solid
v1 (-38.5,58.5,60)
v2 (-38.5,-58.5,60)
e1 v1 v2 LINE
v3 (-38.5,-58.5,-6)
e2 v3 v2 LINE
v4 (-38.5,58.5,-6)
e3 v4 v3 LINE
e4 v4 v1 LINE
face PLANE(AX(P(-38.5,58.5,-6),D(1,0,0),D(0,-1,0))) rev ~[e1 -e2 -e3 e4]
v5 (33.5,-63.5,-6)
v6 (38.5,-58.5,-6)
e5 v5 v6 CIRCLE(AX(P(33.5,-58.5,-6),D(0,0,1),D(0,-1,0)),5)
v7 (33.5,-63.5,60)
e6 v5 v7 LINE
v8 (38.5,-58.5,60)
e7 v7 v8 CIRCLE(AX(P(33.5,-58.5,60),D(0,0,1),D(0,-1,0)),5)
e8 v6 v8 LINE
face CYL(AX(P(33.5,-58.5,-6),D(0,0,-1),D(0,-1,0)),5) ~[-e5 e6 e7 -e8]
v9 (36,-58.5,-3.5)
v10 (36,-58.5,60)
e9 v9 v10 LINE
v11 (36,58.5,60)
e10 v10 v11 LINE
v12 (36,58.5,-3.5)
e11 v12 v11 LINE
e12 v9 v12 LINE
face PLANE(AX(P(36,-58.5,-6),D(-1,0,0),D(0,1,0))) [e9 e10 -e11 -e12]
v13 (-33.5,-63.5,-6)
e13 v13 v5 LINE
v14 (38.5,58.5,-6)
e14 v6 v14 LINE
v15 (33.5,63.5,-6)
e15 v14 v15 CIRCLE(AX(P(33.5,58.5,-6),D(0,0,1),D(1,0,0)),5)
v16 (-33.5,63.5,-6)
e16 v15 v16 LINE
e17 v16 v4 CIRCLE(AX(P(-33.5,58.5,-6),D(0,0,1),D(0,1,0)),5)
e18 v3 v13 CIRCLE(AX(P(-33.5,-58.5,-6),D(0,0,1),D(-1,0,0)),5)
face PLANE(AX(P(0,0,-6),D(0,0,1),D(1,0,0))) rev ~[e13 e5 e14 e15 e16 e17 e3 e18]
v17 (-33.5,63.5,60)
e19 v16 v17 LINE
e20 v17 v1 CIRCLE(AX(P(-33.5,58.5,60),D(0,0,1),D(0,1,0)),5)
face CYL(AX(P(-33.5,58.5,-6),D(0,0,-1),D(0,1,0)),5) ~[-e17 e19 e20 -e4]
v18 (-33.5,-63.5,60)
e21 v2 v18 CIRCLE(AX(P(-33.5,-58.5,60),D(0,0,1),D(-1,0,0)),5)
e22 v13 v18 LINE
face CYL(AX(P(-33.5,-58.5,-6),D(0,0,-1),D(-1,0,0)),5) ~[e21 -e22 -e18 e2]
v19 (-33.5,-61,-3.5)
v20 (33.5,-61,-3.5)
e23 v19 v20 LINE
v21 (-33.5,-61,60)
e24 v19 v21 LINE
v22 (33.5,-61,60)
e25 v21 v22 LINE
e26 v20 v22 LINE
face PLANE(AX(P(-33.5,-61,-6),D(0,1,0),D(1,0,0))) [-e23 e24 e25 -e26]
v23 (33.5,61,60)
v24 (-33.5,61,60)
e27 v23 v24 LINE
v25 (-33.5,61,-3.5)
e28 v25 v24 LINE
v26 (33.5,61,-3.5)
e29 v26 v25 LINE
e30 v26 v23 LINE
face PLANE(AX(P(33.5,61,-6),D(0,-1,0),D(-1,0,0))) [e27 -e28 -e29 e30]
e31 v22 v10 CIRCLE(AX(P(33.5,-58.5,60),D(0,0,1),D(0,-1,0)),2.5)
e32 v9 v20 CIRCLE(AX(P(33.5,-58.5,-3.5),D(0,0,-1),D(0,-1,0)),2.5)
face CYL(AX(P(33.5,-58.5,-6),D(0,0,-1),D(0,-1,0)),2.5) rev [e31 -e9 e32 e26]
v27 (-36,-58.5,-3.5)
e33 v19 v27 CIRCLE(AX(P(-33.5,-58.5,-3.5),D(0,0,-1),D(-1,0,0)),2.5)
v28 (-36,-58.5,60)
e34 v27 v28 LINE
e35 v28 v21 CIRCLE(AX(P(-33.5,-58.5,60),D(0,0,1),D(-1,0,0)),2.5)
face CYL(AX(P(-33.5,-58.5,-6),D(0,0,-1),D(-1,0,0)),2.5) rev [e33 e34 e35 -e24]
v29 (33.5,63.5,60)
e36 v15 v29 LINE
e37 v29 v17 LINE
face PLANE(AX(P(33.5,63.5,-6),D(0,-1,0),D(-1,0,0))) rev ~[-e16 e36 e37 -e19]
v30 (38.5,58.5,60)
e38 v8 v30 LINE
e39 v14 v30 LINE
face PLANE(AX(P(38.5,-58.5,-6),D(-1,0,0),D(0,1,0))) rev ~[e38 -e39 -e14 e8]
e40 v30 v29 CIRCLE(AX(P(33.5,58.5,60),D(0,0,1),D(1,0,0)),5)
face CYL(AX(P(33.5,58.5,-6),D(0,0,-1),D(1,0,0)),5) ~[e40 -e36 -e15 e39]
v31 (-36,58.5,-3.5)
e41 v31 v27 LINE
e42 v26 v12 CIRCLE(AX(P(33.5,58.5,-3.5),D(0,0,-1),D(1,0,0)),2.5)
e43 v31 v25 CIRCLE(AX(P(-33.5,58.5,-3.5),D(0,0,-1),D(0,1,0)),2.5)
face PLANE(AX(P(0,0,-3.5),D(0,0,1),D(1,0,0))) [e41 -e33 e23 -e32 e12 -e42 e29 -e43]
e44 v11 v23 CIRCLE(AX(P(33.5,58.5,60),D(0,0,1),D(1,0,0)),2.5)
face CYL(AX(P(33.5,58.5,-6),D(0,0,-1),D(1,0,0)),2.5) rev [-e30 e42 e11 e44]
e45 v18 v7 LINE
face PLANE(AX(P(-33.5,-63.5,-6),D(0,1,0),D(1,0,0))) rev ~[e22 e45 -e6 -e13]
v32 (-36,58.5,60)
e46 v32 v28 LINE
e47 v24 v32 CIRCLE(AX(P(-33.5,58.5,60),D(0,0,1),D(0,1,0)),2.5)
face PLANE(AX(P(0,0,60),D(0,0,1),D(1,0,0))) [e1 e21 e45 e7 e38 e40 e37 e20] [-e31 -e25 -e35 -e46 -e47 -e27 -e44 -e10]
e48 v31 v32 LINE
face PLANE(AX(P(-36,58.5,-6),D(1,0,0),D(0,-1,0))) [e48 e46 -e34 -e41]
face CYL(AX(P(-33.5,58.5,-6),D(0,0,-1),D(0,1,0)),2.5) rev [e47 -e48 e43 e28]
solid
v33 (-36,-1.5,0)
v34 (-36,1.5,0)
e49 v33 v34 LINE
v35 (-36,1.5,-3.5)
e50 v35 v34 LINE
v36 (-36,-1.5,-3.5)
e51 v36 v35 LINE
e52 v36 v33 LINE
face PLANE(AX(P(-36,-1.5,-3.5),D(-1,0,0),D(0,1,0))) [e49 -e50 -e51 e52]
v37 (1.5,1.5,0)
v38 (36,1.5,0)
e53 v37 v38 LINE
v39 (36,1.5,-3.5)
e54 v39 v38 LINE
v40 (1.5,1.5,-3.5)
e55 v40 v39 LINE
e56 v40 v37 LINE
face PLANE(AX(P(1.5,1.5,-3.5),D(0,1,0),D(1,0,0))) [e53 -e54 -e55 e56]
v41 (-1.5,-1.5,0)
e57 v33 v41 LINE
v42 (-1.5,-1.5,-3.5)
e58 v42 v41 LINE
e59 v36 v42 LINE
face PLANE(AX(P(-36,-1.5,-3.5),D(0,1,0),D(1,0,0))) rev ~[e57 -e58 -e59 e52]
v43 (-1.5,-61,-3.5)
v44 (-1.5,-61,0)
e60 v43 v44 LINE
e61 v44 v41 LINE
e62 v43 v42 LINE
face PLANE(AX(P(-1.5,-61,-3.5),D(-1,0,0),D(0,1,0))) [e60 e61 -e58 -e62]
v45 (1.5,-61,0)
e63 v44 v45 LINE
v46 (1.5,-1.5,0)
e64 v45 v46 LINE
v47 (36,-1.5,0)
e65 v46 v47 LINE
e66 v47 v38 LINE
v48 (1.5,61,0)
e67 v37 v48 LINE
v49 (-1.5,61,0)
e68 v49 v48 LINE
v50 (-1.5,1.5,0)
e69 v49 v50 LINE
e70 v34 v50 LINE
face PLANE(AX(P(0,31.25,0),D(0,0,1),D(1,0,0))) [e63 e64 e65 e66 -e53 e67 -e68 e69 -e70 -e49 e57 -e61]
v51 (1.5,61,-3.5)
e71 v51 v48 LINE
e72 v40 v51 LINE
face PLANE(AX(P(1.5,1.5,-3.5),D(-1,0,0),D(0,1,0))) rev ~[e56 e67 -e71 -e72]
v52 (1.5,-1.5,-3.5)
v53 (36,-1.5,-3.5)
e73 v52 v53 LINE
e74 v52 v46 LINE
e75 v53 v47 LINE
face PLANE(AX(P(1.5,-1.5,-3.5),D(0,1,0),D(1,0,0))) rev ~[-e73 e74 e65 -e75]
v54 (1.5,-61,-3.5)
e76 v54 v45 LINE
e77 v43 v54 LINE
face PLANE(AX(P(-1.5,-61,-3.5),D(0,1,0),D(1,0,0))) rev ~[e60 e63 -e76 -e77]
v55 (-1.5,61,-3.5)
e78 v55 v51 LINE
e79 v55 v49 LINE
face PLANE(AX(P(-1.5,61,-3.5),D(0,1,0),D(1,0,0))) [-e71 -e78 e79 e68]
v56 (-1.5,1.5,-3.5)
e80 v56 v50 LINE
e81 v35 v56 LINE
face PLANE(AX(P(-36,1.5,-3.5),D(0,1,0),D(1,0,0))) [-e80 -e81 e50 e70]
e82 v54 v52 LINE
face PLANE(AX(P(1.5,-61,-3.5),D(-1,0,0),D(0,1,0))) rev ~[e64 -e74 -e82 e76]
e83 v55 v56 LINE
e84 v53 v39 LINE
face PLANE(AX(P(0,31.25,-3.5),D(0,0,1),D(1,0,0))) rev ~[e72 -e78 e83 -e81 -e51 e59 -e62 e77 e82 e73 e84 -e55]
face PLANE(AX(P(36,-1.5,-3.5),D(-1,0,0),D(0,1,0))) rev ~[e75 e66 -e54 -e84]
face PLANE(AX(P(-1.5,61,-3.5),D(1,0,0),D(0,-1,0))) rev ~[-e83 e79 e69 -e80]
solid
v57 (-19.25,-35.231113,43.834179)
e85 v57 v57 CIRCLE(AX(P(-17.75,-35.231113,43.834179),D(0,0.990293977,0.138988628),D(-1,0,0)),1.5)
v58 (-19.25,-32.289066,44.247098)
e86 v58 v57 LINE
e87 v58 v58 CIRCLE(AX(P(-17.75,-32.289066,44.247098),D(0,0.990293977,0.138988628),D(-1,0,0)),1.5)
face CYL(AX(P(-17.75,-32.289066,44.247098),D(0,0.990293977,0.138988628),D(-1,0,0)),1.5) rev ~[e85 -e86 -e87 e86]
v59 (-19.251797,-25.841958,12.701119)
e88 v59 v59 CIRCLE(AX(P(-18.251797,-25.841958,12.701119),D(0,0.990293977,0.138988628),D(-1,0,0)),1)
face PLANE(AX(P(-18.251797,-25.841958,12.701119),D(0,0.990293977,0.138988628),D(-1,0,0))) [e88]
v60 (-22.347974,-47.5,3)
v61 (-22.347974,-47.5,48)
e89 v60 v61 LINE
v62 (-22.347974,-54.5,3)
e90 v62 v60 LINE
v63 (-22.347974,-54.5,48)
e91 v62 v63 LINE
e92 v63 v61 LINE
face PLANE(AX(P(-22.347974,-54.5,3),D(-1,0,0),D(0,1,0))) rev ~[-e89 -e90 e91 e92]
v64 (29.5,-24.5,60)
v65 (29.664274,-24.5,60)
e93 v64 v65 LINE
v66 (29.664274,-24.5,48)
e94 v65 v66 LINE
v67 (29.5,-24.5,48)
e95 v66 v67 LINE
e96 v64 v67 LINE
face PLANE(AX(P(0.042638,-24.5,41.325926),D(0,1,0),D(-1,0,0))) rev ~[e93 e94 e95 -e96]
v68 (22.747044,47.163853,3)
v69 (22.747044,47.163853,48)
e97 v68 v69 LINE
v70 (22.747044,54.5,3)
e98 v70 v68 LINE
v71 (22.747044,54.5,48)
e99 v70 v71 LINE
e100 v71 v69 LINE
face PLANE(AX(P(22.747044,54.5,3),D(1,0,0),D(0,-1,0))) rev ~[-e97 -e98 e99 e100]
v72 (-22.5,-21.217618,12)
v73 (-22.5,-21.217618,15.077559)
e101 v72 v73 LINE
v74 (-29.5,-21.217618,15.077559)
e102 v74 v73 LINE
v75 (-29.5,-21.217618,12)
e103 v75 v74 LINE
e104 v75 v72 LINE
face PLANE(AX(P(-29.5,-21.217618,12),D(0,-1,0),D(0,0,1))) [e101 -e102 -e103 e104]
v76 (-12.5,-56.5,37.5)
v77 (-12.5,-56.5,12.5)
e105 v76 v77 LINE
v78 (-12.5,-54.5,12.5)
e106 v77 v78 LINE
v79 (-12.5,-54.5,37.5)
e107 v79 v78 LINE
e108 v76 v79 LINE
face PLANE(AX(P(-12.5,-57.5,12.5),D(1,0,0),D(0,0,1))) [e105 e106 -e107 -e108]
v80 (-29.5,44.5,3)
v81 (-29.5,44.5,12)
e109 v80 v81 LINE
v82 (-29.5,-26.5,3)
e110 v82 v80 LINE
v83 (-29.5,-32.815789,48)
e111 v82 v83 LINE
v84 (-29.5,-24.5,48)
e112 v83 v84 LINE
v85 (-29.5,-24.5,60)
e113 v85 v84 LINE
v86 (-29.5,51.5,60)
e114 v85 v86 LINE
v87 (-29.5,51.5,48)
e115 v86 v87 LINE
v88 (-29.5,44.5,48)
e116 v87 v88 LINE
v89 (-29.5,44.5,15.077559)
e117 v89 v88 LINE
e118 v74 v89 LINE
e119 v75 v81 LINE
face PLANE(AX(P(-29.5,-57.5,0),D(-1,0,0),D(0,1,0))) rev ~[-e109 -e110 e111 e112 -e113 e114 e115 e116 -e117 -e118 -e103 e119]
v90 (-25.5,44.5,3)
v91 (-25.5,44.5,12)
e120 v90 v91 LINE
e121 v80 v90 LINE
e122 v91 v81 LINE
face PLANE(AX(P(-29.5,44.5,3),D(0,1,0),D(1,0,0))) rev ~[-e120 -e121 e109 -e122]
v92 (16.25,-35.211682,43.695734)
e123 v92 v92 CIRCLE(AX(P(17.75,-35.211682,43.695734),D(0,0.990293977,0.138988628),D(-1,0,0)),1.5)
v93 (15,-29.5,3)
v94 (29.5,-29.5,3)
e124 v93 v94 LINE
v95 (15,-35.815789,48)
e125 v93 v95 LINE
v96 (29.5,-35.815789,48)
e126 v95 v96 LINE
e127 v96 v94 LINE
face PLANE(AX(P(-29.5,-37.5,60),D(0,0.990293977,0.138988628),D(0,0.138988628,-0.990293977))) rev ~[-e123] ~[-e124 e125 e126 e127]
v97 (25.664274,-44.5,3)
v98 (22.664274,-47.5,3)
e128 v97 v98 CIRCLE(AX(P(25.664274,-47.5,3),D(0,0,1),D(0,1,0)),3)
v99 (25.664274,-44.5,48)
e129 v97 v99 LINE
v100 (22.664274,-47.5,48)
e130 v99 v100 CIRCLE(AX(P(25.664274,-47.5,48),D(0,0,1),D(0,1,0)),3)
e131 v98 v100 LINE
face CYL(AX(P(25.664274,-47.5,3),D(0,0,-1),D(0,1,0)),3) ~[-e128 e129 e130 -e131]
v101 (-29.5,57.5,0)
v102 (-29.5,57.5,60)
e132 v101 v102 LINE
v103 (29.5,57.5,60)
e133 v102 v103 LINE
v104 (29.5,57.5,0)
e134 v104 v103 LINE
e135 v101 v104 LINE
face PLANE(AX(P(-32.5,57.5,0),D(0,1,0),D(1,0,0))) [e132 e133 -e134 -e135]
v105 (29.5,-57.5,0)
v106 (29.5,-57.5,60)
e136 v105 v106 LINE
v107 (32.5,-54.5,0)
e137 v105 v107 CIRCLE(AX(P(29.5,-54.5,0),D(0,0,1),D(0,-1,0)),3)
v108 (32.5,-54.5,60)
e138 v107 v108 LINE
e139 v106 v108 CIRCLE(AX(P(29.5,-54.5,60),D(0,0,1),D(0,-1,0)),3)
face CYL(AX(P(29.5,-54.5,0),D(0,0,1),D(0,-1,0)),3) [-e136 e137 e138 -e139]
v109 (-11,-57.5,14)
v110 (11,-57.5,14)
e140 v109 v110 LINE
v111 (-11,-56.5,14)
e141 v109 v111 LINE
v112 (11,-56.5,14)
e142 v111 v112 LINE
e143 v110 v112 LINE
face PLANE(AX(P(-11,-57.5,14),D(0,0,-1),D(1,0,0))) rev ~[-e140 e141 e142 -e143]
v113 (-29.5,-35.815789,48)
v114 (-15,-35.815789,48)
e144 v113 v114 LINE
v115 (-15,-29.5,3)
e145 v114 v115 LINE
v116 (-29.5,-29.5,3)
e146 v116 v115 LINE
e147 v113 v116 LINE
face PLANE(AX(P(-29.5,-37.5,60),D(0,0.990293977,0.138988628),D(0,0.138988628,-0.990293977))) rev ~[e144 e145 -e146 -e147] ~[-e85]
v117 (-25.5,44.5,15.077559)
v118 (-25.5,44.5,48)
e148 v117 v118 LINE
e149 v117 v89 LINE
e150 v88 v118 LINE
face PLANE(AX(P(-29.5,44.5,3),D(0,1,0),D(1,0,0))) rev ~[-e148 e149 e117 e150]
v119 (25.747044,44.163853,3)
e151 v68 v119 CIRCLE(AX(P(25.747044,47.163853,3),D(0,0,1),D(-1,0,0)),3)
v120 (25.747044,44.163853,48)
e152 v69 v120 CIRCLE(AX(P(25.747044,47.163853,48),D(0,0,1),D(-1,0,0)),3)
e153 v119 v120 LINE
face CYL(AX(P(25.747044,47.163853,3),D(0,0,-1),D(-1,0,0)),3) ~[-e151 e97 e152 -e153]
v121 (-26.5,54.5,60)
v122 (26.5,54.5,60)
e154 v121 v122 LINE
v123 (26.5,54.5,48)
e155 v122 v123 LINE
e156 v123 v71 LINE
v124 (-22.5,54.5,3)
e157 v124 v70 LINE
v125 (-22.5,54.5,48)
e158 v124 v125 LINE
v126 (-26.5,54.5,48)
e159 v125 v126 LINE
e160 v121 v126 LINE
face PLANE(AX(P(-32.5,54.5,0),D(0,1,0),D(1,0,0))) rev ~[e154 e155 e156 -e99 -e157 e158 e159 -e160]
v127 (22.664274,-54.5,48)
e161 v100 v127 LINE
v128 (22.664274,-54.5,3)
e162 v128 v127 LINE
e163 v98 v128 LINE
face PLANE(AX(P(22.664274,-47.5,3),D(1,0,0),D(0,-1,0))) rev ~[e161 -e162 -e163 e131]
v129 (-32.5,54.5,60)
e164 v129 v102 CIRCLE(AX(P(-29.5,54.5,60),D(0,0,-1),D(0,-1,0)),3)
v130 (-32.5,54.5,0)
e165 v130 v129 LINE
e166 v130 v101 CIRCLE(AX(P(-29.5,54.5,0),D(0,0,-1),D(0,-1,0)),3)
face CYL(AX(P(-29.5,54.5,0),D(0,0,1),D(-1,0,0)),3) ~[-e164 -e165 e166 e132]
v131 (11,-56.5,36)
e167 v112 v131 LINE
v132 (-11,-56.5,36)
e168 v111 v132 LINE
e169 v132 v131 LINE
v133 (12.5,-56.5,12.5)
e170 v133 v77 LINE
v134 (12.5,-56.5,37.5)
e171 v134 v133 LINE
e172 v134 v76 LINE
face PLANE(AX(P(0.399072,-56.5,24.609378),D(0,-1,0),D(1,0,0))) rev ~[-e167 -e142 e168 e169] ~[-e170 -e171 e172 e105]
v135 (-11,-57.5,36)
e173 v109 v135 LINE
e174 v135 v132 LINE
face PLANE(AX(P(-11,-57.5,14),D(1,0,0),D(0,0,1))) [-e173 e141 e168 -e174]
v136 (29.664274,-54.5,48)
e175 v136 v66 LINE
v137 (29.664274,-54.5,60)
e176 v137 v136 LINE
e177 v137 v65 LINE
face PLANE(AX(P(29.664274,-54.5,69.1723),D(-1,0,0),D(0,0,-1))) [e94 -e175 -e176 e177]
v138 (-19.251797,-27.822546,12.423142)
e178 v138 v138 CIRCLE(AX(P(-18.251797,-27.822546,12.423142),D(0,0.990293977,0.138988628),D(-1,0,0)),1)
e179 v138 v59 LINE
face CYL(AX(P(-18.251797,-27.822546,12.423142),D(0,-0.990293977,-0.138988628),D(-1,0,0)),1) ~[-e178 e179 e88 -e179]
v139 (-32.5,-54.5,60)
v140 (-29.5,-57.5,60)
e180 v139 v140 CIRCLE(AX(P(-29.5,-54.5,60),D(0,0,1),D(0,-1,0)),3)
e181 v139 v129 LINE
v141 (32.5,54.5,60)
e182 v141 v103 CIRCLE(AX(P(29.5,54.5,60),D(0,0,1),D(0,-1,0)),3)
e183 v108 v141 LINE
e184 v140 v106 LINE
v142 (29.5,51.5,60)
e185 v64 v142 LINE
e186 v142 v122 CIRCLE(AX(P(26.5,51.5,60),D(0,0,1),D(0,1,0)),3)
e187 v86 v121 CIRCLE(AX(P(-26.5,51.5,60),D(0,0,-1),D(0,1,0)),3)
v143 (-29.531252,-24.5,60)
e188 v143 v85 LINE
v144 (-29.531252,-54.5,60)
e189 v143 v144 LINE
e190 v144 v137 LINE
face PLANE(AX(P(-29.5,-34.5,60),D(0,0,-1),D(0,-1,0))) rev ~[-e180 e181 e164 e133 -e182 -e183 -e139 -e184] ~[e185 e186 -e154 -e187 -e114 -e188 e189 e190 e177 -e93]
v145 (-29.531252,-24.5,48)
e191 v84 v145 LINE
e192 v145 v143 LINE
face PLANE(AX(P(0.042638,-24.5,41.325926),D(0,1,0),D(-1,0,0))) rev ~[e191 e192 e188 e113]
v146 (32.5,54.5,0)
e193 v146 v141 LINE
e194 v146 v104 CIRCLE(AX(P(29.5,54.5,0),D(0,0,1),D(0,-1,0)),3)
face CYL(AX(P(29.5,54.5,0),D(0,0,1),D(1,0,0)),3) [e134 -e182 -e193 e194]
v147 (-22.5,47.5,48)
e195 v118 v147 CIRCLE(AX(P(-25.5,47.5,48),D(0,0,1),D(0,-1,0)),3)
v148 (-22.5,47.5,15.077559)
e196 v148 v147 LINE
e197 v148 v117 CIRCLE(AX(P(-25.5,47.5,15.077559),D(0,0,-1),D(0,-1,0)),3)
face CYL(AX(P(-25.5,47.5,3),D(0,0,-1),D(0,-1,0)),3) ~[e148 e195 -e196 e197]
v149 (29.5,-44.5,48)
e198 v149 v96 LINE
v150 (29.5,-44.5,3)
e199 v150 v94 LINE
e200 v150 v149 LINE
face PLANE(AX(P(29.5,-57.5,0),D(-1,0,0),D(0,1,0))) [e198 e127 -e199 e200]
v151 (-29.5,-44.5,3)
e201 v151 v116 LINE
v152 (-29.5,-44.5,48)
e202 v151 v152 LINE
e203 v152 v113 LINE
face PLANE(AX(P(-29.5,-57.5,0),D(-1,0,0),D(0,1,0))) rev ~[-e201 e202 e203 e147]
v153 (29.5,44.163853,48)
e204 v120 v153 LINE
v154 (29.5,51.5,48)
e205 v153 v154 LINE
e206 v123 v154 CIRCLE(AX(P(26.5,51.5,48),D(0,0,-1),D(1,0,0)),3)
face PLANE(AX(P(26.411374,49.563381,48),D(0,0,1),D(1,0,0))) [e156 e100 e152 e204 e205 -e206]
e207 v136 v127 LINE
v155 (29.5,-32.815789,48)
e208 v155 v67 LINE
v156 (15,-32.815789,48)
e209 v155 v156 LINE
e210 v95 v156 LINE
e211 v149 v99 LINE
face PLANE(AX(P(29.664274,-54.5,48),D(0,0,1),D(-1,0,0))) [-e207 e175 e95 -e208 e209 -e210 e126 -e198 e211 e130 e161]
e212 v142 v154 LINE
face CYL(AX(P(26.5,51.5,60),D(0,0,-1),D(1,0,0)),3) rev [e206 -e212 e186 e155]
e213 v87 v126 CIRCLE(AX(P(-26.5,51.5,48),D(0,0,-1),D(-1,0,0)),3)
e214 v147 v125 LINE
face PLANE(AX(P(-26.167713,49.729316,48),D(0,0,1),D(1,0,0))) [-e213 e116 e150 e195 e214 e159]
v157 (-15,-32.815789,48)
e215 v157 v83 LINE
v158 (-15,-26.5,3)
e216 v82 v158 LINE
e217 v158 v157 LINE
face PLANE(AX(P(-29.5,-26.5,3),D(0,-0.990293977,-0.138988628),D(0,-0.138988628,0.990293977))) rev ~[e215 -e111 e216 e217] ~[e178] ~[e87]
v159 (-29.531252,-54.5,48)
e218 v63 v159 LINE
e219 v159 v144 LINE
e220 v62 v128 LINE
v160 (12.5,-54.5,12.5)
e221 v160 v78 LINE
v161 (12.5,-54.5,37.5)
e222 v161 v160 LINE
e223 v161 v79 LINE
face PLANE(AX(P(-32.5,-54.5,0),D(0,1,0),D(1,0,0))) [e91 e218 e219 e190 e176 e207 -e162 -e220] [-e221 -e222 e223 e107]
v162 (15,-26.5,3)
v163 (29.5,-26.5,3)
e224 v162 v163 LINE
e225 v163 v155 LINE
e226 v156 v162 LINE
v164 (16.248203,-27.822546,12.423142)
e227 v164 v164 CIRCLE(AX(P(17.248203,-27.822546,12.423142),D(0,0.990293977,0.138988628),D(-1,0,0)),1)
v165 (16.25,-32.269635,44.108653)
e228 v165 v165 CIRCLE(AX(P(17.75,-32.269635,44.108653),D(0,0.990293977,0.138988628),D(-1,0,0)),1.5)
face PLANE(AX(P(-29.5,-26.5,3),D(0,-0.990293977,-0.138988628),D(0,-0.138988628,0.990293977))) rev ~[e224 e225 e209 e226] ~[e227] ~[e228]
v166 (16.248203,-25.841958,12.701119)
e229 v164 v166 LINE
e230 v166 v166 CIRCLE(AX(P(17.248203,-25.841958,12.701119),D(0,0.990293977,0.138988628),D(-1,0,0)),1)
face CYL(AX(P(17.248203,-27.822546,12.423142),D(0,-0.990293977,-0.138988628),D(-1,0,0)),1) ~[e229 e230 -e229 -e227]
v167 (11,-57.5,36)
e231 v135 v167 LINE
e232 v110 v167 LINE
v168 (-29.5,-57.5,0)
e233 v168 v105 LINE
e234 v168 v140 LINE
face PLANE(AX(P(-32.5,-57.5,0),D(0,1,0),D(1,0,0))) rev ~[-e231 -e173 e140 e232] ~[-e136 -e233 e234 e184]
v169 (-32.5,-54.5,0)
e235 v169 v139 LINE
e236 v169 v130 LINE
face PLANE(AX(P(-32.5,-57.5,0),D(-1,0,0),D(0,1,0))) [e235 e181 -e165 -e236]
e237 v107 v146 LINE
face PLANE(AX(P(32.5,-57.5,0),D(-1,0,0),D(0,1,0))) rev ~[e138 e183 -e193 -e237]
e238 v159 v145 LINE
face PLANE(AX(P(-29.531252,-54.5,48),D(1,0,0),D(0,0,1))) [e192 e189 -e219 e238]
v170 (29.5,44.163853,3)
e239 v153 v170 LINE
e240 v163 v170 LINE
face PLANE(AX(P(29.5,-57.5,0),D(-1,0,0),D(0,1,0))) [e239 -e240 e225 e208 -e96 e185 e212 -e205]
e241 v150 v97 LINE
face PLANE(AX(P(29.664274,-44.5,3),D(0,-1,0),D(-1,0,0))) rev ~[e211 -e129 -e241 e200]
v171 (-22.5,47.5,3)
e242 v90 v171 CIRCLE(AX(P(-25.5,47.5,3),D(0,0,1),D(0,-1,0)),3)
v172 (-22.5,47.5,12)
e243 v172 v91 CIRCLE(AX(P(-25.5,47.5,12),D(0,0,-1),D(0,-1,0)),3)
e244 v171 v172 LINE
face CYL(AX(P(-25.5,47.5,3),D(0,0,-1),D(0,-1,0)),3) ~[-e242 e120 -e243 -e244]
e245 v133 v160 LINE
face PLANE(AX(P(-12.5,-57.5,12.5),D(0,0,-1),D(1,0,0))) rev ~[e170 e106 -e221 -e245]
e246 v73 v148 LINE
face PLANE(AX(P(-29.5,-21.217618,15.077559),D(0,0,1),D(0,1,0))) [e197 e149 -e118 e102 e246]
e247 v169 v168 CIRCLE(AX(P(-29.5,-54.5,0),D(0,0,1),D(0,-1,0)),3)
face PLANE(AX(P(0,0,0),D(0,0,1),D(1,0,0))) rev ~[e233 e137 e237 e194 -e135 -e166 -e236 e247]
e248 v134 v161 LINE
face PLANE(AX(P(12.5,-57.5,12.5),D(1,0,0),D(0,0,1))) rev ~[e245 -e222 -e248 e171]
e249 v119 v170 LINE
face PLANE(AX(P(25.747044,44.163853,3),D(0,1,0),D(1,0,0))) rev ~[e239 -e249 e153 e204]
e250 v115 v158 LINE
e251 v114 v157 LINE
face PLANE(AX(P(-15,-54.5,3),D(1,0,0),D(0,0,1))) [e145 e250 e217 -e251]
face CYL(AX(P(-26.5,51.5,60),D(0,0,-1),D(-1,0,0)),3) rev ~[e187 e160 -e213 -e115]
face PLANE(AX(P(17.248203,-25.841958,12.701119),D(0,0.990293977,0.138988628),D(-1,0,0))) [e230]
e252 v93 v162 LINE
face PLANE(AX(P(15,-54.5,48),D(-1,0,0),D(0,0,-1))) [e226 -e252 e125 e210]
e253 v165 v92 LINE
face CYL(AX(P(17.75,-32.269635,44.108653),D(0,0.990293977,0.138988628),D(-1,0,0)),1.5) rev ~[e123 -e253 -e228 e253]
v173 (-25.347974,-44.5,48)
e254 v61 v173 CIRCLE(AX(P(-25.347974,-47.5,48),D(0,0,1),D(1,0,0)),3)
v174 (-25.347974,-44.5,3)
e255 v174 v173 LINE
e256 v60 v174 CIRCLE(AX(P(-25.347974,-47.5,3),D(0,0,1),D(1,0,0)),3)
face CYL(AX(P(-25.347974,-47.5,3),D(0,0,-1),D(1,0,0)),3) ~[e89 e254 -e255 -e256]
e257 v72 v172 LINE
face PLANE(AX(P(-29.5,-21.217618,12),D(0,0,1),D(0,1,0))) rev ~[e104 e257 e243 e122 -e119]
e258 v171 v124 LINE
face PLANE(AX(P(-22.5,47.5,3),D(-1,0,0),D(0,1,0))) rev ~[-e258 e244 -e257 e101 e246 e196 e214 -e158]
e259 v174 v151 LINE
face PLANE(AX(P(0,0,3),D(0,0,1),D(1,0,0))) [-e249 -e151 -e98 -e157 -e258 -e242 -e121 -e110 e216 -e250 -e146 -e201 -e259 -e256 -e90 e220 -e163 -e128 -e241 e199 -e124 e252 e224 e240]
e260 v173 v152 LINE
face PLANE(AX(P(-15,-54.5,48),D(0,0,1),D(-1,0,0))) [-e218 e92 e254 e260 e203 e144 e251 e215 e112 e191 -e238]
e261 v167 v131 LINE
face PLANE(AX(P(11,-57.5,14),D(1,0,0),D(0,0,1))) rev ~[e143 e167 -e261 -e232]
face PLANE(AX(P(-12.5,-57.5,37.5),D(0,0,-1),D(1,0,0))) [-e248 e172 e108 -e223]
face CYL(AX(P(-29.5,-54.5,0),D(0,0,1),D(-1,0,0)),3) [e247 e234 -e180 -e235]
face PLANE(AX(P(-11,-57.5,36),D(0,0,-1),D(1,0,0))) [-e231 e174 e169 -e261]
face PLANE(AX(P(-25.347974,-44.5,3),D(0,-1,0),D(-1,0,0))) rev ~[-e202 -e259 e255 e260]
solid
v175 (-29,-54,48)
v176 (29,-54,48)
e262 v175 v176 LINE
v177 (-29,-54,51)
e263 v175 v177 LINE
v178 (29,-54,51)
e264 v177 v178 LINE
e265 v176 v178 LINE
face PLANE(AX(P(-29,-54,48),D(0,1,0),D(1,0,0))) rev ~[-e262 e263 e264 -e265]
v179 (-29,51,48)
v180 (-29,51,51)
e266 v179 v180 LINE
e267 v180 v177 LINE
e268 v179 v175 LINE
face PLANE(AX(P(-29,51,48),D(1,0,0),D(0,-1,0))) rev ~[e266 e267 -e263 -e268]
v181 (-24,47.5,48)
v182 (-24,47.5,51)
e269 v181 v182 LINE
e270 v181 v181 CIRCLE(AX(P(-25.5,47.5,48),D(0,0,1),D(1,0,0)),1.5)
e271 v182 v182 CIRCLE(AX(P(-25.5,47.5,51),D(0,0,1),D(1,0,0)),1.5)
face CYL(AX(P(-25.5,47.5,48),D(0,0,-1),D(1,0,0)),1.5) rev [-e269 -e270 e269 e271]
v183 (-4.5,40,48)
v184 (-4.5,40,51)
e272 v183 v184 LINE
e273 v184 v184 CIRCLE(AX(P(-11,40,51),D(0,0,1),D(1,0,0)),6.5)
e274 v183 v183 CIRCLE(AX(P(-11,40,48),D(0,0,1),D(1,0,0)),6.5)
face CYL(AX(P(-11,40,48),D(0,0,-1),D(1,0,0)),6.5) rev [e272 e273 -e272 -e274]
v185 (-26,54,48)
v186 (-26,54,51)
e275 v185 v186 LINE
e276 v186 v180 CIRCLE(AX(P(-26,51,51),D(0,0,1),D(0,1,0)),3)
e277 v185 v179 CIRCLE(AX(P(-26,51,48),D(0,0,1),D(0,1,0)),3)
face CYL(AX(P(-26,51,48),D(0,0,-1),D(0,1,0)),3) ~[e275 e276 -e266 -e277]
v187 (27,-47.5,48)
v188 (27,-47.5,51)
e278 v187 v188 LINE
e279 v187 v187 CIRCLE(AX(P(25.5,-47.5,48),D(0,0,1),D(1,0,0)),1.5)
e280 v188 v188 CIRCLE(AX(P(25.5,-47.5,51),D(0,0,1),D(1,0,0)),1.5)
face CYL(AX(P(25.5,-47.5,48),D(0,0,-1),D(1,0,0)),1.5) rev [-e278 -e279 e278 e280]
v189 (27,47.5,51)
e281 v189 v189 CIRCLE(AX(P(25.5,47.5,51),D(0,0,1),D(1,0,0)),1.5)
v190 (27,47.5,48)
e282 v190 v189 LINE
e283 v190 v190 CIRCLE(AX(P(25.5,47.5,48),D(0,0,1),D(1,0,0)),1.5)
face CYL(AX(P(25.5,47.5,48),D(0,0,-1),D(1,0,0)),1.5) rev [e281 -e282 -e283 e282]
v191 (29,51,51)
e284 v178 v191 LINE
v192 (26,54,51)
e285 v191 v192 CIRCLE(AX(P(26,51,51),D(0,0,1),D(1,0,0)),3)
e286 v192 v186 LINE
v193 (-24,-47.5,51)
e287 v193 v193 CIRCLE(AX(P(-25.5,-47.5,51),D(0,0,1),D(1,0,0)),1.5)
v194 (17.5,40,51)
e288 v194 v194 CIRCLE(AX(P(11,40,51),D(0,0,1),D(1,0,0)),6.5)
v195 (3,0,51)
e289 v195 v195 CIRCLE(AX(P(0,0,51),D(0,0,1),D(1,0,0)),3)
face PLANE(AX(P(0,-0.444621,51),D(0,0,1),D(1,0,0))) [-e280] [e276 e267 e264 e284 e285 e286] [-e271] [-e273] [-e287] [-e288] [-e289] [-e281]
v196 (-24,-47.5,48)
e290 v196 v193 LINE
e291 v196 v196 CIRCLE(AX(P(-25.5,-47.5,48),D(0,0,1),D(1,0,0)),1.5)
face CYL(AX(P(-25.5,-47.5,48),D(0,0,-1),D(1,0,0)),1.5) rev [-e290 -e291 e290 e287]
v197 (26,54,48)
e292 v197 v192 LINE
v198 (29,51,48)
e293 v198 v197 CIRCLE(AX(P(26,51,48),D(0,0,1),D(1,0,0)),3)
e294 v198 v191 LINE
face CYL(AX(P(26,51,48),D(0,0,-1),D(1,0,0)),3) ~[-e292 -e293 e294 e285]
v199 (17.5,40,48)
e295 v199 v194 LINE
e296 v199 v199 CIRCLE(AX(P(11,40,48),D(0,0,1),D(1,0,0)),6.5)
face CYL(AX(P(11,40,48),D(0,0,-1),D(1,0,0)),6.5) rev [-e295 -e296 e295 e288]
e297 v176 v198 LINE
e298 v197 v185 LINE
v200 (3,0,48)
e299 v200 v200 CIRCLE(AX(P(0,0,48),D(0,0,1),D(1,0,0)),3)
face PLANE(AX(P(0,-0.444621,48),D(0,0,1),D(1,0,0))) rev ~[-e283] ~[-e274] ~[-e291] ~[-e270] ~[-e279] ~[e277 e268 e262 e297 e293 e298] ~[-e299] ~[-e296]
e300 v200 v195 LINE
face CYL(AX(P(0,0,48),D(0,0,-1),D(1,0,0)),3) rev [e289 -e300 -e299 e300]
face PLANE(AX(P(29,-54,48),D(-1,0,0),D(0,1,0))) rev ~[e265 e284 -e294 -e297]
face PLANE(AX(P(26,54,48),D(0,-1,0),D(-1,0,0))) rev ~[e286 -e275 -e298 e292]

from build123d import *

# Parameters (mm, degrees)
F2_DEPTH  = 66
F3_T      = -2.5
F4_W      = 65
F4_H      = 115
F5_DEPTH  = 60
F6_T      = -3
F7_R      = 3
F9_DEPTH  = 60
F11_DEPTH = 30
F12_W     = 25
F12_H     = 25
F13_DEPTH = 25
F14_W     = 30.3293950856
F14_H     = 30.3293950856
F14_W_2   = 22
F14_H_2   = 22
F15_DEPTH = 1
F16_R     = 1.5
F17_DEPTH = 5
F18_R     = 1
F19_DEPTH = 2
F20_W     = 75.8937858045
F20_H     = 3.0775591731
F21_DEPTH = 7
F23_DEPTH = 45
F24_R     = 1.5
F24_R_2   = 6.5
F24_R_3   = 3
F25_DEPTH = 3
F26_W     = 3
F26_H     = 59.5
F26_H_2   = 3
F26_W_2   = 34.5
F27_DEPTH = 3.5


with BuildPart() as f2:
    # F1 (on offset) → F2 (new body)
    with BuildSketch(Plane.XY.offset(-6)):
        with BuildLine():
            Line((33.5, 63.5), (-33.5, 63.5))
            ThreePointArc((-33.5, 63.5), (-37.0355339059, 62.0355339059), (-38.5, 58.5))
            Line((-38.5, 58.5), (-38.5, -58.5))
            ThreePointArc((-38.5, -58.5), (-37.0355339059, -62.0355339059), (-33.5, -63.5))
            Line((-33.5, -63.5), (33.5, -63.5))
            ThreePointArc((33.5, -63.5), (37.0355339059, -62.0355339059), (38.5, -58.5))
            Line((38.5, -58.5), (38.5, 58.5))
            ThreePointArc((38.5, 58.5), (37.0355339059, 62.0355339059), (33.5, 63.5))
        make_face()
    extrude(amount=F2_DEPTH)

    # F3
    f3_openings = [f2.faces().sort_by_distance(p)[0] for p in [
        (0, 0, 60),
    ]]
    offset(amount=F3_T, openings=f3_openings)


with BuildPart() as f5:
    # F4 (on Top) → F5 (new body)
    with BuildSketch(Plane.XY):
        Rectangle(F4_W, F4_H)
    extrude(amount=F5_DEPTH)

    # F6
    f6_openings = [f5.faces().sort_by_distance(p)[0] for p in [
        (0, 0, 60),
    ]]
    offset(amount=F6_T, openings=f6_openings)

    # F7
    f7_edges = [f5.edges().sort_by_distance(p)[0] for p in [
        (-29.5, 54.5, 31.5),
        (32.5, -57.5, 30),
        (-32.5, -57.5, 30),
        (32.5, 57.5, 30),
        (29.5, -54.5, 31.5),
        (-32.5, 57.5, 30),
        (29.5, 54.5, 31.5),
        (-29.5, -54.5, 31.5),
    ]]
    fillet(f7_edges, radius=F7_R)

    # F8 (on face) → F9 (join)
    with BuildSketch(Plane.YZ.offset(-29.5)):
        Polygon((-37.5, 60), (-29.5, 3), (-26.5, 3), (-34.5, 60), align=None)
    extrude(amount=F9_DEPTH)

    # F10 (on face) → F11 (cut)
    with BuildSketch(Plane(origin=(0, -54.5, 0), x_dir=(-1, 0, 0), z_dir=(0, 1, 0))):
        Polygon((-15, 3), (15, 3), (15, 48), (29.5312516391, 48), (29.5312516391, 69.1723003983), (-29.6642743051, 69.1723003983), (-29.6642743051, 48), (-15, 48), align=None)
    extrude(amount=F11_DEPTH, mode=Mode.SUBTRACT)

    # F12 (on face) → F13 (cut)
    with BuildSketch(Plane.XZ.offset(57.5)):
        with Locations((0, 25)):
            Rectangle(F12_W, F12_H)
    extrude(amount=-F13_DEPTH, mode=Mode.SUBTRACT)

    # F14 (on face) → F15 (join)
    with BuildSketch(Plane.XZ.offset(57.5)):
        with Locations((0.3990717232, 24.6093776077)):
            Rectangle(F14_W, F14_H)
        with Locations((0, 25)):
            Rectangle(F14_W_2, F14_H_2, mode=Mode.SUBTRACT)
    extrude(amount=-F15_DEPTH)

    # F16 (on face) → F17 (cut)
    with BuildSketch(Plane(origin=(0, -25.5751584666, -3.5894959251), x_dir=(-1, 0, 0), z_dir=(0, 0.9902939772, 0.1389886284))):
        with Locations((-17.75, 48.1656454504)):
            Circle(F16_R)
        with Locations((17.75, 48.3054479149)):
            Circle(F16_R)
    extrude(amount=-F17_DEPTH, mode=Mode.SUBTRACT)

    # F18 (on face) → F19 (join)
    with BuildSketch(Plane(origin=(0, -25.5751584666, -3.5894959251), x_dir=(-1, 0, 0), z_dir=(0, 0.9902939772, 0.1389886284))):
        with Locations((-17.2482031414, 16.1695800686)):
            Circle(F18_R)
        with Locations((18.2517968586, 16.1695800686)):
            Circle(F18_R)
    extrude(amount=F19_DEPTH)

    # F20 (on face) → F21 (join)
    with BuildSketch(Plane.YZ.offset(-29.5)):
        with Locations((16.7292747647, 13.5387795866)):
            Rectangle(F20_W, F20_H)
    extrude(amount=F21_DEPTH)

    # F22 (on face) → F23 (join)
    with BuildSketch(Plane.XY.offset(3)):
        with BuildLine():
            Line((-22.5, 54.5), (-29.5, 54.5))
            Line((-29.5, 54.5), (-29.5, 44.5))
            Line((-29.5, 44.5), (-25.5, 44.5))
            ThreePointArc((-25.5, 44.5), (-23.3786796564, 45.3786796564), (-22.5, 47.5))
            Line((-22.5, 47.5), (-22.5, 54.5))
        make_face()
        with BuildLine():
            Line((29.7470435202, 54.5), (22.7470435202, 54.5))
            Line((22.7470435202, 54.5), (22.7470435202, 47.1638529301))
            ThreePointArc((22.7470435202, 47.1638529301), (23.6257231767, 45.0425325865), (25.7470435202, 44.1638529301))
            Line((25.7470435202, 44.1638529301), (29.7470435202, 44.1638529301))
            Line((29.7470435202, 44.1638529301), (29.7470435202, 54.5))
        make_face()
        with BuildLine():
            Line((-29.5, -44.5), (-29.5, -54.5))
            Line((-29.5, -54.5), (-22.3479736596, -54.5))
            Line((-22.3479736596, -54.5), (-22.3479736596, -47.5))
            ThreePointArc((-22.3479736596, -47.5), (-23.2266533161, -45.3786796564), (-25.3479736596, -44.5))
            Line((-25.3479736596, -44.5), (-29.5, -44.5))
        make_face()
        with BuildLine():
            Line((22.6642743051, -54.5), (29.6642743051, -54.5))
            Line((29.6642743051, -54.5), (29.6642743051, -44.5))
            Line((29.6642743051, -44.5), (25.6642743051, -44.5))
            ThreePointArc((25.6642743051, -44.5), (23.5429539615, -45.3786796564), (22.6642743051, -47.5))
            Line((22.6642743051, -47.5), (22.6642743051, -54.5))
        make_face()
    extrude(amount=F23_DEPTH)


with BuildPart() as f25:
    # F24 (on face) → F25 (new body)
    with BuildSketch(Plane.XY.offset(48)):
        with BuildLine():
            Line((26, 54), (-26, 54))
            ThreePointArc((-26, 54), (-28.1213203436, 53.1213203436), (-29, 51))
            Line((-29, 51), (-29, -54))
            Line((-29, -54), (29, -54))
            Line((29, -54), (29, 51))
            ThreePointArc((29, 51), (28.1213203436, 53.1213203436), (26, 54))
        make_face()
        with Locations((-25.5, -47.5)):
            Circle(F24_R, mode=Mode.SUBTRACT)
        with Locations((25.5, -47.5)):
            Circle(F24_R, mode=Mode.SUBTRACT)
        with Locations((-25.5, 47.5)):
            Circle(F24_R, mode=Mode.SUBTRACT)
        with Locations((-11, 40)):
            Circle(F24_R_2, mode=Mode.SUBTRACT)
        Circle(F24_R_3, mode=Mode.SUBTRACT)
        with Locations((11, 40)):
            Circle(F24_R_2, mode=Mode.SUBTRACT)
        with Locations((25.5, 47.5)):
            Circle(F24_R, mode=Mode.SUBTRACT)
    extrude(amount=F25_DEPTH)


with BuildPart() as f27:
    # F26 (on face) → F27 (new body)
    with BuildSketch(Plane.XY.offset(-3.5)):
        with Locations((0, 31.25)):
            Rectangle(F26_W, F26_H)
        Rectangle(F26_W, F26_H_2)
        with Locations((-18.75, 0)):
            Rectangle(F26_W_2, F26_H_2)
        with Locations((18.75, 0)):
            Rectangle(F26_W_2, F26_H_2)
        with Locations((0, -31.25)):
            Rectangle(F26_W, F26_H)
    extrude(amount=F27_DEPTH)


solid = Compound([f2.part, f5.part, f25.part, f27.part])
